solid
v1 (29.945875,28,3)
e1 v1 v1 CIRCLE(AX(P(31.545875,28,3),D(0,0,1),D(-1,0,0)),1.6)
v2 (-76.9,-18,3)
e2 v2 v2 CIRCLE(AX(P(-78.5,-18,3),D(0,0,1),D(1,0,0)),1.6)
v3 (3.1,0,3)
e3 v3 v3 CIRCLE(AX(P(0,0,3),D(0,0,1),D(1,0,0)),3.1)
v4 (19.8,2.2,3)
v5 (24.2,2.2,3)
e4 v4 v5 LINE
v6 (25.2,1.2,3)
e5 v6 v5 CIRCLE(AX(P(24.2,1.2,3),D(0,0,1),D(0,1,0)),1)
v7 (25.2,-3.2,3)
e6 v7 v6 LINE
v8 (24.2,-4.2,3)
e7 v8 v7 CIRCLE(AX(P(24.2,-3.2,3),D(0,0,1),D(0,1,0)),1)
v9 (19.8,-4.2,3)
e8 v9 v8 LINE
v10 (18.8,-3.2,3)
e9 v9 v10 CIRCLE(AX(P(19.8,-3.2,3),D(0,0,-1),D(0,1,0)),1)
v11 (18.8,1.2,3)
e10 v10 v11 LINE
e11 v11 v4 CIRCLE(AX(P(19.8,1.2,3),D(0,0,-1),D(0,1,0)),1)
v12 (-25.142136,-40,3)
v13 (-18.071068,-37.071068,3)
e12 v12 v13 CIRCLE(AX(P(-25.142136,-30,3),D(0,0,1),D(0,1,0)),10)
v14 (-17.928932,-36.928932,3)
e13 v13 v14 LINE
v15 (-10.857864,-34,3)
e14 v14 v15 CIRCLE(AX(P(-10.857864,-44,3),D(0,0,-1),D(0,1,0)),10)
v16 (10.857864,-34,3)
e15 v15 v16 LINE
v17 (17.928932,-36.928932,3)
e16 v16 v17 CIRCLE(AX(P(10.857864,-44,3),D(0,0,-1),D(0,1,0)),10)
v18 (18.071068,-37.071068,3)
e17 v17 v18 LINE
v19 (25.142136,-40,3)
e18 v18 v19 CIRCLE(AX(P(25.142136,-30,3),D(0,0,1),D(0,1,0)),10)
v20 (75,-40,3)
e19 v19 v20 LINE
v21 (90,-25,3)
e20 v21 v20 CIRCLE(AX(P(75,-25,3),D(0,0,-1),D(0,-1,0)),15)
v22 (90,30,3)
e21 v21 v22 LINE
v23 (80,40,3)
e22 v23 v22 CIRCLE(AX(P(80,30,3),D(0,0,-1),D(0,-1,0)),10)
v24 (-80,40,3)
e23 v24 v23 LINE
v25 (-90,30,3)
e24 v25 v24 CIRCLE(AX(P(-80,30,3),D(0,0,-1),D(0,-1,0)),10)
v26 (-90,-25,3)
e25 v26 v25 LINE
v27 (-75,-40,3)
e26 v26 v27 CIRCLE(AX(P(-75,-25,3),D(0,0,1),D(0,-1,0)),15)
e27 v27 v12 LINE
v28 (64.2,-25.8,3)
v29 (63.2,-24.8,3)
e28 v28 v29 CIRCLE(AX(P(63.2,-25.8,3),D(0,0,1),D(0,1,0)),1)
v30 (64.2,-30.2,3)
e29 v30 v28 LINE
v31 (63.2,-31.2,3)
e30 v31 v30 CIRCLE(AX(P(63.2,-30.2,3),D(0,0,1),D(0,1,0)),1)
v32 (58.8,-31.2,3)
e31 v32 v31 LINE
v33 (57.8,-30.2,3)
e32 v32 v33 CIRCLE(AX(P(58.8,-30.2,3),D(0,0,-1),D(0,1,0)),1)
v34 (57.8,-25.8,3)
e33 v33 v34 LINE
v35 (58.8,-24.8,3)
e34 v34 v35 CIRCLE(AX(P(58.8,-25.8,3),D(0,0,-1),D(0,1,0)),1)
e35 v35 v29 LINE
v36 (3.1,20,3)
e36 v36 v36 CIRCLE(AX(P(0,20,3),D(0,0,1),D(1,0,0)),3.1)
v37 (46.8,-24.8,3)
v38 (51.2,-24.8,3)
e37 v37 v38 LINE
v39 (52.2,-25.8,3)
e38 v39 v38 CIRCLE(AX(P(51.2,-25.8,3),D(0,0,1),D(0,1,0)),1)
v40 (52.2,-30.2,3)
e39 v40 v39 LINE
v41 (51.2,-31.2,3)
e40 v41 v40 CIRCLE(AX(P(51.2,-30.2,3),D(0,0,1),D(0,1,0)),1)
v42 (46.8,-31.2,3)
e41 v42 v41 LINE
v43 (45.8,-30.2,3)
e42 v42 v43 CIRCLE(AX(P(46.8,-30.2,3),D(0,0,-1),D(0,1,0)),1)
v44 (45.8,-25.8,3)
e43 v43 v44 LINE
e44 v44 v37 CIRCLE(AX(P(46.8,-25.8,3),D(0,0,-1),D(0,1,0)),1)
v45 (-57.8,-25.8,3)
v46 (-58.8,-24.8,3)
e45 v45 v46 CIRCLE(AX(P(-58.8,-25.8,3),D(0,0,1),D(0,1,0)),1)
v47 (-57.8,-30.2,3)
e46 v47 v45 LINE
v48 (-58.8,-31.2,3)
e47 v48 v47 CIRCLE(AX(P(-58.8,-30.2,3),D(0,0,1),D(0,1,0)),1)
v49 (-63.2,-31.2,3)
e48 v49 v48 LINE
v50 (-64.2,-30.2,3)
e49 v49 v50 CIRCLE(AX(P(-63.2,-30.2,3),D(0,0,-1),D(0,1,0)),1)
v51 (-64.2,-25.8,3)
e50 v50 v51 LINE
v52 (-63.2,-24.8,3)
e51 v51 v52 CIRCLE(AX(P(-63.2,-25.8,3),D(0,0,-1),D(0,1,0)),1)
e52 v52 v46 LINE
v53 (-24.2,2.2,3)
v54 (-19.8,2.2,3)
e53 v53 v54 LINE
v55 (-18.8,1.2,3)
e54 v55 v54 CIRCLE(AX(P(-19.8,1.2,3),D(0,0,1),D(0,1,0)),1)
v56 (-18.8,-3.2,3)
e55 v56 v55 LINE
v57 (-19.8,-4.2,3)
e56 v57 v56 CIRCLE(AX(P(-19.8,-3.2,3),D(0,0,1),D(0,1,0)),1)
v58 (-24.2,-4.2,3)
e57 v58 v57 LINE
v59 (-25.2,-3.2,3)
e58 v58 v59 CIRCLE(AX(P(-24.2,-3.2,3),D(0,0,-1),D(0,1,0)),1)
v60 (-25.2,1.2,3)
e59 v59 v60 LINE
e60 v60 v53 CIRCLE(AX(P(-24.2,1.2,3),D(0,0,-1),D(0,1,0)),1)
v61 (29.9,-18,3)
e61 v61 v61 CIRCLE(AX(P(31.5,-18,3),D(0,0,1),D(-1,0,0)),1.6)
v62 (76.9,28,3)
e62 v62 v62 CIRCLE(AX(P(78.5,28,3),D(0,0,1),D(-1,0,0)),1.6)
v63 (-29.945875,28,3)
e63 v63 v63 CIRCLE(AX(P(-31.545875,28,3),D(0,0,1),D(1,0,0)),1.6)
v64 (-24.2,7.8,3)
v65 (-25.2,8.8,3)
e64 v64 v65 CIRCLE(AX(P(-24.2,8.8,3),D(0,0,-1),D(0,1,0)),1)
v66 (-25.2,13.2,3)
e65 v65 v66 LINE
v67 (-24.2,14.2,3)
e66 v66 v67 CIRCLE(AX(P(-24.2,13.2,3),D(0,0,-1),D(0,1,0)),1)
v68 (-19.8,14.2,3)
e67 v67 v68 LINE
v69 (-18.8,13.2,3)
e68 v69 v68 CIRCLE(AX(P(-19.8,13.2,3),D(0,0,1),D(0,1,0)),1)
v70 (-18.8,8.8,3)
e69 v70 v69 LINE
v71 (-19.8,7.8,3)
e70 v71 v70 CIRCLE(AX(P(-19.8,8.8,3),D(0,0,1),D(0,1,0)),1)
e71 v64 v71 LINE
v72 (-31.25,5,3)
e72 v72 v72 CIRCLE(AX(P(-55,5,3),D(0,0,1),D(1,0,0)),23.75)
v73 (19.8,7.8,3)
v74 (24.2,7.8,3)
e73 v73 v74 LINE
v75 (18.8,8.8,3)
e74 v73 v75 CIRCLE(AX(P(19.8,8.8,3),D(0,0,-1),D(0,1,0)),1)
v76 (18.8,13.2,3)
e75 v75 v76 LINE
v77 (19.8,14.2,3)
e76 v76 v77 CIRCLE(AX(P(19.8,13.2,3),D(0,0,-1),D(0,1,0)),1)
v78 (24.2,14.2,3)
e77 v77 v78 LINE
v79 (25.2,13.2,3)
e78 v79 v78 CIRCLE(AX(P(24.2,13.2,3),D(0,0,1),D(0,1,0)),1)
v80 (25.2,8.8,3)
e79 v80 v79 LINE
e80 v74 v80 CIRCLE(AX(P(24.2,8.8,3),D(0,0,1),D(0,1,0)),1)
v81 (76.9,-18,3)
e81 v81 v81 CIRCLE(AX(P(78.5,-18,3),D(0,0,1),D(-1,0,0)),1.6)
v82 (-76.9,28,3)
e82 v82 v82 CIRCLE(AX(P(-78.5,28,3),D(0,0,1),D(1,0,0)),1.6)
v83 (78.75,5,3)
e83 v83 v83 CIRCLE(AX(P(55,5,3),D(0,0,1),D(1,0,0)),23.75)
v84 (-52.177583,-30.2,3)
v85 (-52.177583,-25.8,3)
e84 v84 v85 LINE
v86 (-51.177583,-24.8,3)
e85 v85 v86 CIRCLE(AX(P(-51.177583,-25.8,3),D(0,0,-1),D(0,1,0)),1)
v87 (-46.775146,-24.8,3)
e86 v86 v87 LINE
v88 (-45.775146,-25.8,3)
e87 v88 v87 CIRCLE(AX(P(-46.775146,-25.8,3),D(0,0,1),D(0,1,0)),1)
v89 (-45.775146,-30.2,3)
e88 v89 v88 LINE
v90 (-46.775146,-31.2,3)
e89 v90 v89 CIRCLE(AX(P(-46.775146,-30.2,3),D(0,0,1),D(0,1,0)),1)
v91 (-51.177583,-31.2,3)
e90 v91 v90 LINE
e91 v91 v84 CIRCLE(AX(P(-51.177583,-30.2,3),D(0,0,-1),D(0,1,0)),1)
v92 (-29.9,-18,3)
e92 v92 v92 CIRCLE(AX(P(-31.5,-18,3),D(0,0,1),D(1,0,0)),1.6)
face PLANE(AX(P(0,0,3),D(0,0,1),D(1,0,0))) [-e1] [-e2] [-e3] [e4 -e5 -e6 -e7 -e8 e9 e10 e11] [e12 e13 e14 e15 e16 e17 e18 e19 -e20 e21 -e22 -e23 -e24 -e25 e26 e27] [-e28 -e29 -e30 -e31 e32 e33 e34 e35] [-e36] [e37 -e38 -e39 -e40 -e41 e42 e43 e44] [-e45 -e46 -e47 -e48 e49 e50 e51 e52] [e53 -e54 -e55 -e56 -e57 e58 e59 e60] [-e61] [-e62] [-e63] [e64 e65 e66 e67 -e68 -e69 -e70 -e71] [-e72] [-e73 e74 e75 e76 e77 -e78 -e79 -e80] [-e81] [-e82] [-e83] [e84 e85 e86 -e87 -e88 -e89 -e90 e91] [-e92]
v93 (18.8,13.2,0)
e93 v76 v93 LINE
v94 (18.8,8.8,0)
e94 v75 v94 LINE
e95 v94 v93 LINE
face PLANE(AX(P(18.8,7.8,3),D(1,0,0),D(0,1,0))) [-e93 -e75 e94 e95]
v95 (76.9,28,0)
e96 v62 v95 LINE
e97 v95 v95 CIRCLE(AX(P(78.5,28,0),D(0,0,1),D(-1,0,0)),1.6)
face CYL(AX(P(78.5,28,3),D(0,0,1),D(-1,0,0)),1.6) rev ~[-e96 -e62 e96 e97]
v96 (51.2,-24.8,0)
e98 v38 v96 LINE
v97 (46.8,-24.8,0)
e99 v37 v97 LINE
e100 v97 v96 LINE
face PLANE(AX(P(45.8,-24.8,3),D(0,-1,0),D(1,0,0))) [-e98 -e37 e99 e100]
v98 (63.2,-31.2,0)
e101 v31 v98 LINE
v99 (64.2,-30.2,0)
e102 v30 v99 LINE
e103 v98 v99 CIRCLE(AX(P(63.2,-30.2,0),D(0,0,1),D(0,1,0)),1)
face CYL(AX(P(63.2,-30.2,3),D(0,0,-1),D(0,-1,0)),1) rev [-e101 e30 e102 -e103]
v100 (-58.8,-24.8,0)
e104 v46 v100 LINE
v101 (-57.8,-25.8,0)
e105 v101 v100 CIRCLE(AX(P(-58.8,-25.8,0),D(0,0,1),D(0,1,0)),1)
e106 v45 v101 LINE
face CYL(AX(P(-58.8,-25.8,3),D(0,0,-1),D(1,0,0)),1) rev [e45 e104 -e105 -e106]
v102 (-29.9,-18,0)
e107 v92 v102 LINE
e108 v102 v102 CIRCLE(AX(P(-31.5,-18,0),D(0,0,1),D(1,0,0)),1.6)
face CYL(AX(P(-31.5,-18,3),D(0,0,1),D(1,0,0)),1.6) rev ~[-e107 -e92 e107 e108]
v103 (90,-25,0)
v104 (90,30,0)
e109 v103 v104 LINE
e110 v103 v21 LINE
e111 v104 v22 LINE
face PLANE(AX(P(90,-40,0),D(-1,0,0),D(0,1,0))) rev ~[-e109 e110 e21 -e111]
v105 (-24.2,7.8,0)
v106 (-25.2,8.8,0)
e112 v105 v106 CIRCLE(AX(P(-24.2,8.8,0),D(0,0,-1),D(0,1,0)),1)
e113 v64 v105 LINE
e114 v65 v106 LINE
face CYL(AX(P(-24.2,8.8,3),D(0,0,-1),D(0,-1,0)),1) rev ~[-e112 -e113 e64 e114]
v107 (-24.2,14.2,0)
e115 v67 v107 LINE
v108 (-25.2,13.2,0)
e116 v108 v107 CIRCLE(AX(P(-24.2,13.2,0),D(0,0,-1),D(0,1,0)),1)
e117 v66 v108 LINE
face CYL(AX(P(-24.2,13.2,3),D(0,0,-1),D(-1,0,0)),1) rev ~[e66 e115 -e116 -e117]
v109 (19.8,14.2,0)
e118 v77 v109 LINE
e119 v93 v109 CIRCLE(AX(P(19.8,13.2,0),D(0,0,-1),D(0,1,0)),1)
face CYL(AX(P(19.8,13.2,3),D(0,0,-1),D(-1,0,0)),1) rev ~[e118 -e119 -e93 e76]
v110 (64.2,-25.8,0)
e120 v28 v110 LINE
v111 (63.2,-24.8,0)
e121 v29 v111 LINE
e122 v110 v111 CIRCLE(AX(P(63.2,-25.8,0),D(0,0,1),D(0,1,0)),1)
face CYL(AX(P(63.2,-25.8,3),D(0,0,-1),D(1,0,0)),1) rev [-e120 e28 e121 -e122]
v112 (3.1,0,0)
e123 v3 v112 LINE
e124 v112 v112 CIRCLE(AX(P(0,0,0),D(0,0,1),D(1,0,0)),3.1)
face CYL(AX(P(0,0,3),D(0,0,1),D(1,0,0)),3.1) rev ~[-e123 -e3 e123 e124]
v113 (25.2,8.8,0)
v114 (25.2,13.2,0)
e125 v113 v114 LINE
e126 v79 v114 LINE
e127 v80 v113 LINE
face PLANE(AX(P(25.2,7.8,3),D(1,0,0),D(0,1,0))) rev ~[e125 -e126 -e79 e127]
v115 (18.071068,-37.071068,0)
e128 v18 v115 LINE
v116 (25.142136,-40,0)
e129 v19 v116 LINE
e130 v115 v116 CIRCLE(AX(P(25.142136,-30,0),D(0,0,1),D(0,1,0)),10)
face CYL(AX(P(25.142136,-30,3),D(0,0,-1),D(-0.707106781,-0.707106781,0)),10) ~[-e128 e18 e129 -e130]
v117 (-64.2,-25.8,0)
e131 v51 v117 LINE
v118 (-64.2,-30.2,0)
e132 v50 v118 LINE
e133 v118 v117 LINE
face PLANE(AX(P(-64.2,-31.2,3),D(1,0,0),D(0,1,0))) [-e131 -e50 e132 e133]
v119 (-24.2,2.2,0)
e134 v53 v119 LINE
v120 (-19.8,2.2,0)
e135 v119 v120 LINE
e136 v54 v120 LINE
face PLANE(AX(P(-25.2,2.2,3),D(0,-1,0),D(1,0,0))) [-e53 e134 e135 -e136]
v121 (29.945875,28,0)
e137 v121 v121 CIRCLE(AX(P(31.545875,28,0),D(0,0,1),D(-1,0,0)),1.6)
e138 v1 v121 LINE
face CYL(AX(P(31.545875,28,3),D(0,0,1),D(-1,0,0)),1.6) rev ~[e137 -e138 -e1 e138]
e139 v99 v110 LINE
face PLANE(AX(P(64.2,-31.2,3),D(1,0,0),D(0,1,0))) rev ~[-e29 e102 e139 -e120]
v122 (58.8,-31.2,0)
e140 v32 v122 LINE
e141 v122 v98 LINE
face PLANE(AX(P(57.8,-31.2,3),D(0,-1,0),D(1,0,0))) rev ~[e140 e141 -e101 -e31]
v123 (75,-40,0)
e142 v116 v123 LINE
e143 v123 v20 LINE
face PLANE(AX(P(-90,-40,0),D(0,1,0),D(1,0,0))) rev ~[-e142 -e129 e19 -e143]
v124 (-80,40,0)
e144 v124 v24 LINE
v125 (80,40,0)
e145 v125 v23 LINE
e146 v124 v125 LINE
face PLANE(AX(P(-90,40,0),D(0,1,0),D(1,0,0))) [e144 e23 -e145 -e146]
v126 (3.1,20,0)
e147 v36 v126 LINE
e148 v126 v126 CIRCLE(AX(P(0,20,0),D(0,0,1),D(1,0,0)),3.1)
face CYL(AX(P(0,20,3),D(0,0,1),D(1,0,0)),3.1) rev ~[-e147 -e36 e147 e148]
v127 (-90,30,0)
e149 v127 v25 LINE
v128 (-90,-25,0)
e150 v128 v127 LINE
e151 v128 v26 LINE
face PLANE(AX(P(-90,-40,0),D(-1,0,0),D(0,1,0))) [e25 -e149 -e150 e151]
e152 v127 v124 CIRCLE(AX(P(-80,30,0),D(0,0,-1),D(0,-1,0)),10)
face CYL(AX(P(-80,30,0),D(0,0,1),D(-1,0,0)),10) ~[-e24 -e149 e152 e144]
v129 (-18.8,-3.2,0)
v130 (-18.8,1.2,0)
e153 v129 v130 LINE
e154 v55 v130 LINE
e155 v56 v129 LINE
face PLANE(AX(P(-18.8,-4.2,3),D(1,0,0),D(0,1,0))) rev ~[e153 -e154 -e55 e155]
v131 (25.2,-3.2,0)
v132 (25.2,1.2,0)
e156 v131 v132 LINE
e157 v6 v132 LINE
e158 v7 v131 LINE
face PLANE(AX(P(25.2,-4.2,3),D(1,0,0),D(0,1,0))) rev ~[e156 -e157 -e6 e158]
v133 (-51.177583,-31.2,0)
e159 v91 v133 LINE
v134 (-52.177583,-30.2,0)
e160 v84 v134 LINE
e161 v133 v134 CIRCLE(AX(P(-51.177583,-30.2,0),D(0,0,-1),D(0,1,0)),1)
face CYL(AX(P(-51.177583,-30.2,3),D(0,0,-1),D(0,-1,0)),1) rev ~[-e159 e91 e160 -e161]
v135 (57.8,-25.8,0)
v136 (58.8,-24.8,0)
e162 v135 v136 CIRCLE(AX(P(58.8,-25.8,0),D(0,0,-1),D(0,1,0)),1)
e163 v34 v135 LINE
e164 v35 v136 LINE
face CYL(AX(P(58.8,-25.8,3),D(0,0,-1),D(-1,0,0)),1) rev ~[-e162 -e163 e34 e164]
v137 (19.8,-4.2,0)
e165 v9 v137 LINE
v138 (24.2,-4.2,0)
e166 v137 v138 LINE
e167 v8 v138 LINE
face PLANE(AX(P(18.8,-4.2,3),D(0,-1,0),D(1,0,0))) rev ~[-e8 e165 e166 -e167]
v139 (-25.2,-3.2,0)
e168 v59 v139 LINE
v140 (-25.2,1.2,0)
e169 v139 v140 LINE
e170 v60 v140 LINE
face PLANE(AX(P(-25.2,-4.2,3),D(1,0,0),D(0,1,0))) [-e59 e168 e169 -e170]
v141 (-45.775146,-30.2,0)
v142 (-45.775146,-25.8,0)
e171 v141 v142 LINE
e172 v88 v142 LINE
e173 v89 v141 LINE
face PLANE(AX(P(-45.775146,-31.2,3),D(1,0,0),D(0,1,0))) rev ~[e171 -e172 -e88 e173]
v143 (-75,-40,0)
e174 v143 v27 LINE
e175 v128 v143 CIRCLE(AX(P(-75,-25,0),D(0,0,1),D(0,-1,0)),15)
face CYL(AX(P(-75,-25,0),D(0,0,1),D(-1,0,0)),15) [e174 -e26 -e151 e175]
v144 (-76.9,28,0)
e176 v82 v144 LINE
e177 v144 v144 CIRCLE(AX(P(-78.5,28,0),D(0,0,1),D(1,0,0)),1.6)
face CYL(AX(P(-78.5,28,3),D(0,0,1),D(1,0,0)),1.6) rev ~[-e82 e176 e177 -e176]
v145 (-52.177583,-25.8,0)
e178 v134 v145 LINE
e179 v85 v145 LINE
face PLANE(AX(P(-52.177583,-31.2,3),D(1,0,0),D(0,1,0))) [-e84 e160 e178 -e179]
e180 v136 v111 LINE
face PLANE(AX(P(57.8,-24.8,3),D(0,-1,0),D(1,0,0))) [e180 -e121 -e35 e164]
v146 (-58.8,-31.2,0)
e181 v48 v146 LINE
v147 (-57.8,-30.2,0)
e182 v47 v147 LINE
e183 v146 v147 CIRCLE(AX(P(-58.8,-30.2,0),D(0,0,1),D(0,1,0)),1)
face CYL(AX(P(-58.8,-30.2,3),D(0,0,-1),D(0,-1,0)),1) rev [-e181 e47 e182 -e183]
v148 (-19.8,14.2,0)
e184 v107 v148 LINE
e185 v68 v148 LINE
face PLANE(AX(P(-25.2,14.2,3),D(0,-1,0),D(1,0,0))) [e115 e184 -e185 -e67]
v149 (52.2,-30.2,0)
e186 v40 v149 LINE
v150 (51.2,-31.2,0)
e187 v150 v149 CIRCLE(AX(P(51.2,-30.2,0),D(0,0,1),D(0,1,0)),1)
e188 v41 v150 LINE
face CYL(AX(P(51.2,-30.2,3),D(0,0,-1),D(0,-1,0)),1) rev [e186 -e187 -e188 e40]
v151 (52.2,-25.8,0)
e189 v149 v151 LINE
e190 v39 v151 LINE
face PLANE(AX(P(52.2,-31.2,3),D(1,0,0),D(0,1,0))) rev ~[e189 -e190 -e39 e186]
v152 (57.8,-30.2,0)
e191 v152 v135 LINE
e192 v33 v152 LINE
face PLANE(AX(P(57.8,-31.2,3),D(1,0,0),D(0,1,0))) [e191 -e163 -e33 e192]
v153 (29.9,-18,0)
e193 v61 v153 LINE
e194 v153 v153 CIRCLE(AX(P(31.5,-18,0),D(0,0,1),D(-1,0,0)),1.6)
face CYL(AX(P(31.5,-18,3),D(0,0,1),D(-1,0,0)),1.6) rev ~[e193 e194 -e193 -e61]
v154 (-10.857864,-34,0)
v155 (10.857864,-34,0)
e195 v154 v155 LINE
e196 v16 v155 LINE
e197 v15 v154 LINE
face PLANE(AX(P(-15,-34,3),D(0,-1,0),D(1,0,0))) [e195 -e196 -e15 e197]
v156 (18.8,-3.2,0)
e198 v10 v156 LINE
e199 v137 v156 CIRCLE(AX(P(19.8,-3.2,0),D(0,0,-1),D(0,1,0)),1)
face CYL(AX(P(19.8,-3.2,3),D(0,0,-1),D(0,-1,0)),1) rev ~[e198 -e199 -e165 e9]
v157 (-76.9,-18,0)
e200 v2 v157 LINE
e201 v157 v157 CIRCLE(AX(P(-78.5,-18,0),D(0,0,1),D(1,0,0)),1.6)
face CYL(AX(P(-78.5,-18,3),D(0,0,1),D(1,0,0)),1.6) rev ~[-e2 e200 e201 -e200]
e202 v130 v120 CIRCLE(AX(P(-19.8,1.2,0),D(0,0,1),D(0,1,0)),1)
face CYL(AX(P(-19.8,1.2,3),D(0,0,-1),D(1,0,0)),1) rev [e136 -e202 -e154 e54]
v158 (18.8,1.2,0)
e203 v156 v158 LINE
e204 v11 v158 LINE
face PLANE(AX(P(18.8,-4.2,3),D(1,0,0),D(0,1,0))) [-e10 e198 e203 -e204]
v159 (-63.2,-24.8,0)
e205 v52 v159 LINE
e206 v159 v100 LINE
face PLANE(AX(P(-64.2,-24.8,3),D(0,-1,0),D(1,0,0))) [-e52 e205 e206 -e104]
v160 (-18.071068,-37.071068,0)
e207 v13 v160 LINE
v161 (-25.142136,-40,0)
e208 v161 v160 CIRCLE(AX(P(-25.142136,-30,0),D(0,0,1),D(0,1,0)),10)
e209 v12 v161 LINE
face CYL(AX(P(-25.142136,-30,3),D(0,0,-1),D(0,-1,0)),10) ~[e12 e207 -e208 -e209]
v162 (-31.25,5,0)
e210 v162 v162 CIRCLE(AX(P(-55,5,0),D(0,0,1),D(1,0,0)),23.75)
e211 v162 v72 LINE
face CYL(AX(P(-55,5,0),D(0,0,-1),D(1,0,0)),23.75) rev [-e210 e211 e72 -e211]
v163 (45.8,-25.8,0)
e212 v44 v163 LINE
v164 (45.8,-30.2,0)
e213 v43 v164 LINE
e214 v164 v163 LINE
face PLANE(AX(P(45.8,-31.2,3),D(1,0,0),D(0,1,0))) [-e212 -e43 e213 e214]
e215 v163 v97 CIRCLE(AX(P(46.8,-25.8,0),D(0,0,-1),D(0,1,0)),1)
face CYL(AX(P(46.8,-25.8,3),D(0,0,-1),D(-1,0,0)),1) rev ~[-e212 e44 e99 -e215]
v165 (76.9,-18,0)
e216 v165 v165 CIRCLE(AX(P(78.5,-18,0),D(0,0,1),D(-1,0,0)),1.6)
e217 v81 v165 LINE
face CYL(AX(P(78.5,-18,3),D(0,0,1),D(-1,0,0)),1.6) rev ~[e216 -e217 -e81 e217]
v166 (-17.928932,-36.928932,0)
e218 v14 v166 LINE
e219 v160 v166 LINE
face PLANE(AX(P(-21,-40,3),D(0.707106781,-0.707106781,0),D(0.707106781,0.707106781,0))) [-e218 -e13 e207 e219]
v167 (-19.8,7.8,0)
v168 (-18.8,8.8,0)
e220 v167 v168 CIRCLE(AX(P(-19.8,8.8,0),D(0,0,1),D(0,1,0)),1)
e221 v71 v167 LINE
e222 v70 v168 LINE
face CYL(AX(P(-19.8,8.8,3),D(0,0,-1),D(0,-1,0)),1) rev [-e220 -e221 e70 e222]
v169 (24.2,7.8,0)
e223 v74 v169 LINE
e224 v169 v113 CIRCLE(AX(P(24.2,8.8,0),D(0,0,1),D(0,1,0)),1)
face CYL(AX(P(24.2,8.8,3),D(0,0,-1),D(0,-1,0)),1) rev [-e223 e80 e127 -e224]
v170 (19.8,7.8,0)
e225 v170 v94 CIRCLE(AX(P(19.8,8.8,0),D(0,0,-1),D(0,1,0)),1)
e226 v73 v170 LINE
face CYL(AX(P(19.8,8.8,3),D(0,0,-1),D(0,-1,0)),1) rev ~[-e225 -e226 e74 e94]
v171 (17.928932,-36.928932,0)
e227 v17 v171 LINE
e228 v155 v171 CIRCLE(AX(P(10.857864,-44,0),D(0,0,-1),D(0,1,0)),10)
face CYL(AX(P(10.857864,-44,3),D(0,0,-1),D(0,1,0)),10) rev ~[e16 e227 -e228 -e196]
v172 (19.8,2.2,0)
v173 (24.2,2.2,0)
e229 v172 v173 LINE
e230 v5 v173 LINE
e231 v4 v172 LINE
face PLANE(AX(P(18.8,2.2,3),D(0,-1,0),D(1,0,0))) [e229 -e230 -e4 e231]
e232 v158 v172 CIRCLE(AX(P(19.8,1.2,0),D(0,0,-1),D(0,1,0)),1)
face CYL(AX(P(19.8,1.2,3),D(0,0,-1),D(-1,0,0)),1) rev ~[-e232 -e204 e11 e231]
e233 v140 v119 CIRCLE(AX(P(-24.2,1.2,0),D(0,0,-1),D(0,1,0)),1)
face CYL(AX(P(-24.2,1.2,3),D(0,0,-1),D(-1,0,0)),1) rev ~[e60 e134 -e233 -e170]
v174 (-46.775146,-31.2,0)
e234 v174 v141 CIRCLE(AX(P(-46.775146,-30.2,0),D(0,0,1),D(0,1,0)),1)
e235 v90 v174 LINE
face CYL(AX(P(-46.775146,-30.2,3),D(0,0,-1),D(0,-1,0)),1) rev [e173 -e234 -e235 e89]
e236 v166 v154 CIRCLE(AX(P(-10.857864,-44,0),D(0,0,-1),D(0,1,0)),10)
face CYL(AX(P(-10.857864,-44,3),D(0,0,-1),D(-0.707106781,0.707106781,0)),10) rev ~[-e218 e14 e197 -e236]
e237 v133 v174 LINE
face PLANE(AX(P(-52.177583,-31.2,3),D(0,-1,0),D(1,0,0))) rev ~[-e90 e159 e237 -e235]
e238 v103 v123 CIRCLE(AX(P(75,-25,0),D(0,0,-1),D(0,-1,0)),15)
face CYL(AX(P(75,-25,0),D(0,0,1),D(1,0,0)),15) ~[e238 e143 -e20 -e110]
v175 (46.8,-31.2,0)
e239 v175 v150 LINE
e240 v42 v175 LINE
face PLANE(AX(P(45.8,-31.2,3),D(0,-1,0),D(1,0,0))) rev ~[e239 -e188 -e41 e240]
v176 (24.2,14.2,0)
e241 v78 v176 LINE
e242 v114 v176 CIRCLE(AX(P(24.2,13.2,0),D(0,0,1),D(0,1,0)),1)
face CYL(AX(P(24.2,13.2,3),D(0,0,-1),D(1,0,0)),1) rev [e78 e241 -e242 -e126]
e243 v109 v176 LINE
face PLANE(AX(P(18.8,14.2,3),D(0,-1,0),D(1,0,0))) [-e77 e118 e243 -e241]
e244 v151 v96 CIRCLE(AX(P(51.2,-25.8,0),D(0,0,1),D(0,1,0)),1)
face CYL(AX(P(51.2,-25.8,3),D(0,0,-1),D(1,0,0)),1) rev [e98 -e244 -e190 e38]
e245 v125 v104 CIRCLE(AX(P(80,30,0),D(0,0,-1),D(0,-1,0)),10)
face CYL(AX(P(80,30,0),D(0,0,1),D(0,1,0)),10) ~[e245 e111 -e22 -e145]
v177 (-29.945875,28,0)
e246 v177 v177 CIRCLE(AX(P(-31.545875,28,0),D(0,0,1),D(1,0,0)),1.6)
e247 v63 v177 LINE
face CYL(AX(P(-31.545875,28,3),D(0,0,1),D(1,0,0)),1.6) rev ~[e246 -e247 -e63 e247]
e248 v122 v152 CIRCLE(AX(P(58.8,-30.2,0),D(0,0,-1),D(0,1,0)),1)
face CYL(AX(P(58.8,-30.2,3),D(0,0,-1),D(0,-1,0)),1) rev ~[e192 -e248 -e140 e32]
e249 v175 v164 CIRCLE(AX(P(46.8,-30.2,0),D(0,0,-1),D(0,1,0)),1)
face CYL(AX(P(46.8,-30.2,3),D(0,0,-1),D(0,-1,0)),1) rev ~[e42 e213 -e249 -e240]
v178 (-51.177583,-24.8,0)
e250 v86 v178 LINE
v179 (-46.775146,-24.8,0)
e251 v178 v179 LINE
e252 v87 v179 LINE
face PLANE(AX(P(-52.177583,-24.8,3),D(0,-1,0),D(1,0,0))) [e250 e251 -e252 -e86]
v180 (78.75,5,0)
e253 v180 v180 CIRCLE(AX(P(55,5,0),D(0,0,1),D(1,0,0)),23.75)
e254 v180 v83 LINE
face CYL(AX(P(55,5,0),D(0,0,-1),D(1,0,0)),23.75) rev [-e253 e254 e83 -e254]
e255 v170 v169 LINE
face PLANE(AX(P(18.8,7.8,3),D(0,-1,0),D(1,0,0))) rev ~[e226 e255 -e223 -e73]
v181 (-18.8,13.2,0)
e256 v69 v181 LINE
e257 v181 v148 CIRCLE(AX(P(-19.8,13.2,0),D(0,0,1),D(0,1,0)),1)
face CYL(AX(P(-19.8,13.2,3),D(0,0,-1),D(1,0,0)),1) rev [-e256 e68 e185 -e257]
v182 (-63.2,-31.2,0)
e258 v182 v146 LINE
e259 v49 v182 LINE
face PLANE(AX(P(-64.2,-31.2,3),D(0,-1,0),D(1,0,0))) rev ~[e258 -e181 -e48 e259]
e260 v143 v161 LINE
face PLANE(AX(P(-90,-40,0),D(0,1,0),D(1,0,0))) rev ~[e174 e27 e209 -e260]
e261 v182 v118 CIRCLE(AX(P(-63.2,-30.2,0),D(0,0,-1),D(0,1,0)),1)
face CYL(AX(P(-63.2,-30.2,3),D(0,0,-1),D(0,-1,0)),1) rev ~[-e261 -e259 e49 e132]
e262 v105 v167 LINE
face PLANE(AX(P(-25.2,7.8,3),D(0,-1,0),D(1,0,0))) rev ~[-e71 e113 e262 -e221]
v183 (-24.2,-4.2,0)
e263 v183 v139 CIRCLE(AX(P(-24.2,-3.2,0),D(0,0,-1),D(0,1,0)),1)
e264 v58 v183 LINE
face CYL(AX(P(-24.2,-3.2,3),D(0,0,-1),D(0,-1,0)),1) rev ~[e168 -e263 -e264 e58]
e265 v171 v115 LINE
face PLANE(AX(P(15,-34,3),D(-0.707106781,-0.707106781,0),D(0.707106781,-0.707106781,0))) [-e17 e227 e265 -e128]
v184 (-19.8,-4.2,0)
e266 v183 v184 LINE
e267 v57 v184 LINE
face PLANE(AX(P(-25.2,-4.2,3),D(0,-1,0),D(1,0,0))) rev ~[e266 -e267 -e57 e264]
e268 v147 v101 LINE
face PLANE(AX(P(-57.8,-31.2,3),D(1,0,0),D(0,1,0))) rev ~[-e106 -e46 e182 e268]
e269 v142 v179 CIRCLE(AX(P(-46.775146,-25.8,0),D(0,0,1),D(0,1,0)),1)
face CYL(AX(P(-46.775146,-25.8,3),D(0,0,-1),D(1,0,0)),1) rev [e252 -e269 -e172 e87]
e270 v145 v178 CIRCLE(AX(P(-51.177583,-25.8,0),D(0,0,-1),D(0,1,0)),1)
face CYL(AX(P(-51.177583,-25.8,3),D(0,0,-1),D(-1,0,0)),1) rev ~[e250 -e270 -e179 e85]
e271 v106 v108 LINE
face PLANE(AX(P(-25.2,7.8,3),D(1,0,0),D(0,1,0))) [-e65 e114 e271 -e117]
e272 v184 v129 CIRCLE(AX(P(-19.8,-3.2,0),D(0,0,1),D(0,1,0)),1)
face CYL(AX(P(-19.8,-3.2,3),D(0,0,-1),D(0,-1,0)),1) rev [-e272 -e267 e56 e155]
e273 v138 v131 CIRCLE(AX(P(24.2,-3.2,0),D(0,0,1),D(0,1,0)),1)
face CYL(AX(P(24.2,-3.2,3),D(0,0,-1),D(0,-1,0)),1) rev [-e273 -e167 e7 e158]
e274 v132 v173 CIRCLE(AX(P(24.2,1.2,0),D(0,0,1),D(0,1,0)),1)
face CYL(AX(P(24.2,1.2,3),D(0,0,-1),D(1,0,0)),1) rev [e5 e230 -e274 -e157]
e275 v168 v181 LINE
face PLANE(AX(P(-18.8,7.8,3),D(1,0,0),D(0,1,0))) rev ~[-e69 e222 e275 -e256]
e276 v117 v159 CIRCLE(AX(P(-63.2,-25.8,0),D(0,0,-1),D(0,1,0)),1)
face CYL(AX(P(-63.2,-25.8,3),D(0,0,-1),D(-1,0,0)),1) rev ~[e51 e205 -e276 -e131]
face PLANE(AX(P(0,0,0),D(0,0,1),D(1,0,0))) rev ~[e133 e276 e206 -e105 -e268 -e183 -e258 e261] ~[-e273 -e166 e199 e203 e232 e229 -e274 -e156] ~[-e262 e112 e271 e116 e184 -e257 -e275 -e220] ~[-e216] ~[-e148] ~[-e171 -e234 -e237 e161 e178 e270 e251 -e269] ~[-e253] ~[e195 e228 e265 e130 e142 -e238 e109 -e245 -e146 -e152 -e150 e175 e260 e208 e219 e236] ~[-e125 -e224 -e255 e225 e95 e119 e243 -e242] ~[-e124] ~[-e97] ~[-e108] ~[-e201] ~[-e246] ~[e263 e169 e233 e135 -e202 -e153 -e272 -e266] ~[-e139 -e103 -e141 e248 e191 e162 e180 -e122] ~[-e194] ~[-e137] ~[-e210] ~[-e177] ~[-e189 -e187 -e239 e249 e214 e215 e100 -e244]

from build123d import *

# Parameters (mm, degrees)
SKETCH1_W           = 180
SKETCH1_H           = 80
SKETCH1_R           = 23.75
BOSS_EXTRUDE1_DEPTH = 3
SKETCH2_W           = 6.4
SKETCH2_H           = 6.4
SKETCH2_W_2         = 6.402436435
CUT_EXTRUDE1_DEPTH  = 99.534258002
CUT_EXTRUDE2_DEPTH  = 3
SKETCH4_R           = 1.6
CUT_EXTRUDE3_DEPTH  = 3
SKETCH7_R           = 3.1
CUT_EXTRUDE4_DEPTH  = 3
FILLET1_R           = 10
FILLET2_R           = 15
FILLET3_R           = 10
FILLET4_R           = 1


with BuildPart() as part:
    # Sketch1 → Boss-Extrude1 (new body)
    with BuildSketch(Plane.XY):
        Rectangle(SKETCH1_W, SKETCH1_H)
        with Locations((55, 5)):
            Circle(SKETCH1_R, mode=Mode.SUBTRACT)
        with Locations((-55, 5)):
            Circle(SKETCH1_R, mode=Mode.SUBTRACT)
    extrude(amount=BOSS_EXTRUDE1_DEPTH)

    # Sketch2 → Cut-Extrude1 (cut, through all)
    with BuildSketch(Plane.XY.offset(3)):
        with Locations((-61, -28)):
            Rectangle(SKETCH2_W, SKETCH2_H)
        with Locations((-48.976364432, -28)):
            Rectangle(SKETCH2_W_2, SKETCH2_H)
        with Locations((-22, -1)):
            Rectangle(SKETCH2_W, SKETCH2_H)
        with Locations((-22, 11)):
            Rectangle(SKETCH2_W, SKETCH2_H)
        with Locations((22, -1)):
            Rectangle(SKETCH2_W, SKETCH2_H)
        with Locations((22, 11)):
            Rectangle(SKETCH2_W, SKETCH2_H)
        with Locations((49, -28)):
            Rectangle(SKETCH2_W, SKETCH2_H)
        with Locations((61, -28)):
            Rectangle(SKETCH2_W, SKETCH2_H)
    extrude(amount=-CUT_EXTRUDE1_DEPTH, mode=Mode.SUBTRACT)

    # Sketch3 → Cut-Extrude2 (cut)
    with BuildSketch(Plane.XY.offset(3)):
        Polygon((-21, -40), (-15, -34), (15, -34), (21, -40), align=None)
    extrude(amount=-CUT_EXTRUDE2_DEPTH, mode=Mode.SUBTRACT)

    # Sketch4 → Cut-Extrude3 (cut)
    with BuildSketch(Plane.XY.offset(3)):
        with Locations((-78.5, 28)):
            Circle(SKETCH4_R)
        with Locations((-31.545874822, 28)):
            Circle(SKETCH4_R)
        with Locations((-31.5, -18)):
            Circle(SKETCH4_R)
        with Locations((-78.5, -18)):
            Circle(SKETCH4_R)
        with Locations(Location((31.5, -18, 0), (0, 0, 180))):
            Circle(SKETCH4_R)
        with Locations(Location((31.545874822, 28, 0), (0, 0, 180))):
            Circle(SKETCH4_R)
        with Locations(Location((78.5, 28, 0), (0, 0, 180))):
            Circle(SKETCH4_R)
        with Locations(Location((78.5, -18, 0), (0, 0, 180))):
            Circle(SKETCH4_R)
    extrude(amount=-CUT_EXTRUDE3_DEPTH, mode=Mode.SUBTRACT)

    # Sketch7 → Cut-Extrude4 (cut)
    with BuildSketch(Plane.XY.offset(3)):
        Circle(SKETCH7_R)
        with Locations((0, 20)):
            Circle(SKETCH7_R)
    extrude(amount=-CUT_EXTRUDE4_DEPTH, mode=Mode.SUBTRACT)

    # Fillet1
    fillet1_edges = [part.edges().sort_by_distance(p)[0] for p in [
        (-90, 40, 1.5),
        (90, 40, 1.5),
    ]]
    fillet(fillet1_edges, radius=FILLET1_R)

    # Fillet2
    fillet2_edges = [part.edges().sort_by_distance(p)[0] for p in [
        (90, -40, 1.5),
        (-90, -40, 1.5),
    ]]
    fillet(fillet2_edges, radius=FILLET2_R)

    # Fillet3
    fillet3_edges = [part.edges().sort_by_distance(p)[0] for p in [
        (-15, -34, 1.5),
        (15, -34, 1.5),
        (21, -40, 1.5),
        (-21, -40, 1.5),
    ]]
    fillet(fillet3_edges, radius=FILLET3_R)

    # Fillet4
    fillet4_edges = [part.edges().sort_by_distance(p)[0] for p in [
        (45.8, -31.2, 1.5),
        (45.8, -24.8, 1.5),
        (52.2, -24.8, 1.5),
        (52.2, -31.2, 1.5),
        (57.8, -31.2, 1.5),
        (57.8, -24.8, 1.5),
        (64.2, -24.8, 1.5),
        (64.2, -31.2, 1.5),
        (-64.2, -24.8, 1.5),
        (-57.8, -24.8, 1.5),
        (-57.8, -31.2, 1.5),
        (-64.2, -31.2, 1.5),
        (-52.177582649, -31.2, 1.5),
        (-52.177582649, -24.8, 1.5),
        (-45.775146214, -24.8, 1.5),
        (-45.775146214, -31.2, 1.5),
        (-25.2, -4.2, 1.5),
        (-25.2, 2.2, 1.5),
        (-18.8, 2.2, 1.5),
        (-18.8, -4.2, 1.5),
        (-25.2, 7.8, 1.5),
        (-25.2, 14.2, 1.5),
        (-18.8, 14.2, 1.5),
        (-18.8, 7.8, 1.5),
        (18.8, -4.2, 1.5),
        (18.8, 2.2, 1.5),
        (25.2, 2.2, 1.5),
        (25.2, -4.2, 1.5),
        (18.8, 7.8, 1.5),
        (18.8, 14.2, 1.5),
        (25.2, 14.2, 1.5),
        (25.2, 7.8, 1.5),
    ]]
    fillet(fillet4_edges, radius=FILLET4_R)


solid = part.part
